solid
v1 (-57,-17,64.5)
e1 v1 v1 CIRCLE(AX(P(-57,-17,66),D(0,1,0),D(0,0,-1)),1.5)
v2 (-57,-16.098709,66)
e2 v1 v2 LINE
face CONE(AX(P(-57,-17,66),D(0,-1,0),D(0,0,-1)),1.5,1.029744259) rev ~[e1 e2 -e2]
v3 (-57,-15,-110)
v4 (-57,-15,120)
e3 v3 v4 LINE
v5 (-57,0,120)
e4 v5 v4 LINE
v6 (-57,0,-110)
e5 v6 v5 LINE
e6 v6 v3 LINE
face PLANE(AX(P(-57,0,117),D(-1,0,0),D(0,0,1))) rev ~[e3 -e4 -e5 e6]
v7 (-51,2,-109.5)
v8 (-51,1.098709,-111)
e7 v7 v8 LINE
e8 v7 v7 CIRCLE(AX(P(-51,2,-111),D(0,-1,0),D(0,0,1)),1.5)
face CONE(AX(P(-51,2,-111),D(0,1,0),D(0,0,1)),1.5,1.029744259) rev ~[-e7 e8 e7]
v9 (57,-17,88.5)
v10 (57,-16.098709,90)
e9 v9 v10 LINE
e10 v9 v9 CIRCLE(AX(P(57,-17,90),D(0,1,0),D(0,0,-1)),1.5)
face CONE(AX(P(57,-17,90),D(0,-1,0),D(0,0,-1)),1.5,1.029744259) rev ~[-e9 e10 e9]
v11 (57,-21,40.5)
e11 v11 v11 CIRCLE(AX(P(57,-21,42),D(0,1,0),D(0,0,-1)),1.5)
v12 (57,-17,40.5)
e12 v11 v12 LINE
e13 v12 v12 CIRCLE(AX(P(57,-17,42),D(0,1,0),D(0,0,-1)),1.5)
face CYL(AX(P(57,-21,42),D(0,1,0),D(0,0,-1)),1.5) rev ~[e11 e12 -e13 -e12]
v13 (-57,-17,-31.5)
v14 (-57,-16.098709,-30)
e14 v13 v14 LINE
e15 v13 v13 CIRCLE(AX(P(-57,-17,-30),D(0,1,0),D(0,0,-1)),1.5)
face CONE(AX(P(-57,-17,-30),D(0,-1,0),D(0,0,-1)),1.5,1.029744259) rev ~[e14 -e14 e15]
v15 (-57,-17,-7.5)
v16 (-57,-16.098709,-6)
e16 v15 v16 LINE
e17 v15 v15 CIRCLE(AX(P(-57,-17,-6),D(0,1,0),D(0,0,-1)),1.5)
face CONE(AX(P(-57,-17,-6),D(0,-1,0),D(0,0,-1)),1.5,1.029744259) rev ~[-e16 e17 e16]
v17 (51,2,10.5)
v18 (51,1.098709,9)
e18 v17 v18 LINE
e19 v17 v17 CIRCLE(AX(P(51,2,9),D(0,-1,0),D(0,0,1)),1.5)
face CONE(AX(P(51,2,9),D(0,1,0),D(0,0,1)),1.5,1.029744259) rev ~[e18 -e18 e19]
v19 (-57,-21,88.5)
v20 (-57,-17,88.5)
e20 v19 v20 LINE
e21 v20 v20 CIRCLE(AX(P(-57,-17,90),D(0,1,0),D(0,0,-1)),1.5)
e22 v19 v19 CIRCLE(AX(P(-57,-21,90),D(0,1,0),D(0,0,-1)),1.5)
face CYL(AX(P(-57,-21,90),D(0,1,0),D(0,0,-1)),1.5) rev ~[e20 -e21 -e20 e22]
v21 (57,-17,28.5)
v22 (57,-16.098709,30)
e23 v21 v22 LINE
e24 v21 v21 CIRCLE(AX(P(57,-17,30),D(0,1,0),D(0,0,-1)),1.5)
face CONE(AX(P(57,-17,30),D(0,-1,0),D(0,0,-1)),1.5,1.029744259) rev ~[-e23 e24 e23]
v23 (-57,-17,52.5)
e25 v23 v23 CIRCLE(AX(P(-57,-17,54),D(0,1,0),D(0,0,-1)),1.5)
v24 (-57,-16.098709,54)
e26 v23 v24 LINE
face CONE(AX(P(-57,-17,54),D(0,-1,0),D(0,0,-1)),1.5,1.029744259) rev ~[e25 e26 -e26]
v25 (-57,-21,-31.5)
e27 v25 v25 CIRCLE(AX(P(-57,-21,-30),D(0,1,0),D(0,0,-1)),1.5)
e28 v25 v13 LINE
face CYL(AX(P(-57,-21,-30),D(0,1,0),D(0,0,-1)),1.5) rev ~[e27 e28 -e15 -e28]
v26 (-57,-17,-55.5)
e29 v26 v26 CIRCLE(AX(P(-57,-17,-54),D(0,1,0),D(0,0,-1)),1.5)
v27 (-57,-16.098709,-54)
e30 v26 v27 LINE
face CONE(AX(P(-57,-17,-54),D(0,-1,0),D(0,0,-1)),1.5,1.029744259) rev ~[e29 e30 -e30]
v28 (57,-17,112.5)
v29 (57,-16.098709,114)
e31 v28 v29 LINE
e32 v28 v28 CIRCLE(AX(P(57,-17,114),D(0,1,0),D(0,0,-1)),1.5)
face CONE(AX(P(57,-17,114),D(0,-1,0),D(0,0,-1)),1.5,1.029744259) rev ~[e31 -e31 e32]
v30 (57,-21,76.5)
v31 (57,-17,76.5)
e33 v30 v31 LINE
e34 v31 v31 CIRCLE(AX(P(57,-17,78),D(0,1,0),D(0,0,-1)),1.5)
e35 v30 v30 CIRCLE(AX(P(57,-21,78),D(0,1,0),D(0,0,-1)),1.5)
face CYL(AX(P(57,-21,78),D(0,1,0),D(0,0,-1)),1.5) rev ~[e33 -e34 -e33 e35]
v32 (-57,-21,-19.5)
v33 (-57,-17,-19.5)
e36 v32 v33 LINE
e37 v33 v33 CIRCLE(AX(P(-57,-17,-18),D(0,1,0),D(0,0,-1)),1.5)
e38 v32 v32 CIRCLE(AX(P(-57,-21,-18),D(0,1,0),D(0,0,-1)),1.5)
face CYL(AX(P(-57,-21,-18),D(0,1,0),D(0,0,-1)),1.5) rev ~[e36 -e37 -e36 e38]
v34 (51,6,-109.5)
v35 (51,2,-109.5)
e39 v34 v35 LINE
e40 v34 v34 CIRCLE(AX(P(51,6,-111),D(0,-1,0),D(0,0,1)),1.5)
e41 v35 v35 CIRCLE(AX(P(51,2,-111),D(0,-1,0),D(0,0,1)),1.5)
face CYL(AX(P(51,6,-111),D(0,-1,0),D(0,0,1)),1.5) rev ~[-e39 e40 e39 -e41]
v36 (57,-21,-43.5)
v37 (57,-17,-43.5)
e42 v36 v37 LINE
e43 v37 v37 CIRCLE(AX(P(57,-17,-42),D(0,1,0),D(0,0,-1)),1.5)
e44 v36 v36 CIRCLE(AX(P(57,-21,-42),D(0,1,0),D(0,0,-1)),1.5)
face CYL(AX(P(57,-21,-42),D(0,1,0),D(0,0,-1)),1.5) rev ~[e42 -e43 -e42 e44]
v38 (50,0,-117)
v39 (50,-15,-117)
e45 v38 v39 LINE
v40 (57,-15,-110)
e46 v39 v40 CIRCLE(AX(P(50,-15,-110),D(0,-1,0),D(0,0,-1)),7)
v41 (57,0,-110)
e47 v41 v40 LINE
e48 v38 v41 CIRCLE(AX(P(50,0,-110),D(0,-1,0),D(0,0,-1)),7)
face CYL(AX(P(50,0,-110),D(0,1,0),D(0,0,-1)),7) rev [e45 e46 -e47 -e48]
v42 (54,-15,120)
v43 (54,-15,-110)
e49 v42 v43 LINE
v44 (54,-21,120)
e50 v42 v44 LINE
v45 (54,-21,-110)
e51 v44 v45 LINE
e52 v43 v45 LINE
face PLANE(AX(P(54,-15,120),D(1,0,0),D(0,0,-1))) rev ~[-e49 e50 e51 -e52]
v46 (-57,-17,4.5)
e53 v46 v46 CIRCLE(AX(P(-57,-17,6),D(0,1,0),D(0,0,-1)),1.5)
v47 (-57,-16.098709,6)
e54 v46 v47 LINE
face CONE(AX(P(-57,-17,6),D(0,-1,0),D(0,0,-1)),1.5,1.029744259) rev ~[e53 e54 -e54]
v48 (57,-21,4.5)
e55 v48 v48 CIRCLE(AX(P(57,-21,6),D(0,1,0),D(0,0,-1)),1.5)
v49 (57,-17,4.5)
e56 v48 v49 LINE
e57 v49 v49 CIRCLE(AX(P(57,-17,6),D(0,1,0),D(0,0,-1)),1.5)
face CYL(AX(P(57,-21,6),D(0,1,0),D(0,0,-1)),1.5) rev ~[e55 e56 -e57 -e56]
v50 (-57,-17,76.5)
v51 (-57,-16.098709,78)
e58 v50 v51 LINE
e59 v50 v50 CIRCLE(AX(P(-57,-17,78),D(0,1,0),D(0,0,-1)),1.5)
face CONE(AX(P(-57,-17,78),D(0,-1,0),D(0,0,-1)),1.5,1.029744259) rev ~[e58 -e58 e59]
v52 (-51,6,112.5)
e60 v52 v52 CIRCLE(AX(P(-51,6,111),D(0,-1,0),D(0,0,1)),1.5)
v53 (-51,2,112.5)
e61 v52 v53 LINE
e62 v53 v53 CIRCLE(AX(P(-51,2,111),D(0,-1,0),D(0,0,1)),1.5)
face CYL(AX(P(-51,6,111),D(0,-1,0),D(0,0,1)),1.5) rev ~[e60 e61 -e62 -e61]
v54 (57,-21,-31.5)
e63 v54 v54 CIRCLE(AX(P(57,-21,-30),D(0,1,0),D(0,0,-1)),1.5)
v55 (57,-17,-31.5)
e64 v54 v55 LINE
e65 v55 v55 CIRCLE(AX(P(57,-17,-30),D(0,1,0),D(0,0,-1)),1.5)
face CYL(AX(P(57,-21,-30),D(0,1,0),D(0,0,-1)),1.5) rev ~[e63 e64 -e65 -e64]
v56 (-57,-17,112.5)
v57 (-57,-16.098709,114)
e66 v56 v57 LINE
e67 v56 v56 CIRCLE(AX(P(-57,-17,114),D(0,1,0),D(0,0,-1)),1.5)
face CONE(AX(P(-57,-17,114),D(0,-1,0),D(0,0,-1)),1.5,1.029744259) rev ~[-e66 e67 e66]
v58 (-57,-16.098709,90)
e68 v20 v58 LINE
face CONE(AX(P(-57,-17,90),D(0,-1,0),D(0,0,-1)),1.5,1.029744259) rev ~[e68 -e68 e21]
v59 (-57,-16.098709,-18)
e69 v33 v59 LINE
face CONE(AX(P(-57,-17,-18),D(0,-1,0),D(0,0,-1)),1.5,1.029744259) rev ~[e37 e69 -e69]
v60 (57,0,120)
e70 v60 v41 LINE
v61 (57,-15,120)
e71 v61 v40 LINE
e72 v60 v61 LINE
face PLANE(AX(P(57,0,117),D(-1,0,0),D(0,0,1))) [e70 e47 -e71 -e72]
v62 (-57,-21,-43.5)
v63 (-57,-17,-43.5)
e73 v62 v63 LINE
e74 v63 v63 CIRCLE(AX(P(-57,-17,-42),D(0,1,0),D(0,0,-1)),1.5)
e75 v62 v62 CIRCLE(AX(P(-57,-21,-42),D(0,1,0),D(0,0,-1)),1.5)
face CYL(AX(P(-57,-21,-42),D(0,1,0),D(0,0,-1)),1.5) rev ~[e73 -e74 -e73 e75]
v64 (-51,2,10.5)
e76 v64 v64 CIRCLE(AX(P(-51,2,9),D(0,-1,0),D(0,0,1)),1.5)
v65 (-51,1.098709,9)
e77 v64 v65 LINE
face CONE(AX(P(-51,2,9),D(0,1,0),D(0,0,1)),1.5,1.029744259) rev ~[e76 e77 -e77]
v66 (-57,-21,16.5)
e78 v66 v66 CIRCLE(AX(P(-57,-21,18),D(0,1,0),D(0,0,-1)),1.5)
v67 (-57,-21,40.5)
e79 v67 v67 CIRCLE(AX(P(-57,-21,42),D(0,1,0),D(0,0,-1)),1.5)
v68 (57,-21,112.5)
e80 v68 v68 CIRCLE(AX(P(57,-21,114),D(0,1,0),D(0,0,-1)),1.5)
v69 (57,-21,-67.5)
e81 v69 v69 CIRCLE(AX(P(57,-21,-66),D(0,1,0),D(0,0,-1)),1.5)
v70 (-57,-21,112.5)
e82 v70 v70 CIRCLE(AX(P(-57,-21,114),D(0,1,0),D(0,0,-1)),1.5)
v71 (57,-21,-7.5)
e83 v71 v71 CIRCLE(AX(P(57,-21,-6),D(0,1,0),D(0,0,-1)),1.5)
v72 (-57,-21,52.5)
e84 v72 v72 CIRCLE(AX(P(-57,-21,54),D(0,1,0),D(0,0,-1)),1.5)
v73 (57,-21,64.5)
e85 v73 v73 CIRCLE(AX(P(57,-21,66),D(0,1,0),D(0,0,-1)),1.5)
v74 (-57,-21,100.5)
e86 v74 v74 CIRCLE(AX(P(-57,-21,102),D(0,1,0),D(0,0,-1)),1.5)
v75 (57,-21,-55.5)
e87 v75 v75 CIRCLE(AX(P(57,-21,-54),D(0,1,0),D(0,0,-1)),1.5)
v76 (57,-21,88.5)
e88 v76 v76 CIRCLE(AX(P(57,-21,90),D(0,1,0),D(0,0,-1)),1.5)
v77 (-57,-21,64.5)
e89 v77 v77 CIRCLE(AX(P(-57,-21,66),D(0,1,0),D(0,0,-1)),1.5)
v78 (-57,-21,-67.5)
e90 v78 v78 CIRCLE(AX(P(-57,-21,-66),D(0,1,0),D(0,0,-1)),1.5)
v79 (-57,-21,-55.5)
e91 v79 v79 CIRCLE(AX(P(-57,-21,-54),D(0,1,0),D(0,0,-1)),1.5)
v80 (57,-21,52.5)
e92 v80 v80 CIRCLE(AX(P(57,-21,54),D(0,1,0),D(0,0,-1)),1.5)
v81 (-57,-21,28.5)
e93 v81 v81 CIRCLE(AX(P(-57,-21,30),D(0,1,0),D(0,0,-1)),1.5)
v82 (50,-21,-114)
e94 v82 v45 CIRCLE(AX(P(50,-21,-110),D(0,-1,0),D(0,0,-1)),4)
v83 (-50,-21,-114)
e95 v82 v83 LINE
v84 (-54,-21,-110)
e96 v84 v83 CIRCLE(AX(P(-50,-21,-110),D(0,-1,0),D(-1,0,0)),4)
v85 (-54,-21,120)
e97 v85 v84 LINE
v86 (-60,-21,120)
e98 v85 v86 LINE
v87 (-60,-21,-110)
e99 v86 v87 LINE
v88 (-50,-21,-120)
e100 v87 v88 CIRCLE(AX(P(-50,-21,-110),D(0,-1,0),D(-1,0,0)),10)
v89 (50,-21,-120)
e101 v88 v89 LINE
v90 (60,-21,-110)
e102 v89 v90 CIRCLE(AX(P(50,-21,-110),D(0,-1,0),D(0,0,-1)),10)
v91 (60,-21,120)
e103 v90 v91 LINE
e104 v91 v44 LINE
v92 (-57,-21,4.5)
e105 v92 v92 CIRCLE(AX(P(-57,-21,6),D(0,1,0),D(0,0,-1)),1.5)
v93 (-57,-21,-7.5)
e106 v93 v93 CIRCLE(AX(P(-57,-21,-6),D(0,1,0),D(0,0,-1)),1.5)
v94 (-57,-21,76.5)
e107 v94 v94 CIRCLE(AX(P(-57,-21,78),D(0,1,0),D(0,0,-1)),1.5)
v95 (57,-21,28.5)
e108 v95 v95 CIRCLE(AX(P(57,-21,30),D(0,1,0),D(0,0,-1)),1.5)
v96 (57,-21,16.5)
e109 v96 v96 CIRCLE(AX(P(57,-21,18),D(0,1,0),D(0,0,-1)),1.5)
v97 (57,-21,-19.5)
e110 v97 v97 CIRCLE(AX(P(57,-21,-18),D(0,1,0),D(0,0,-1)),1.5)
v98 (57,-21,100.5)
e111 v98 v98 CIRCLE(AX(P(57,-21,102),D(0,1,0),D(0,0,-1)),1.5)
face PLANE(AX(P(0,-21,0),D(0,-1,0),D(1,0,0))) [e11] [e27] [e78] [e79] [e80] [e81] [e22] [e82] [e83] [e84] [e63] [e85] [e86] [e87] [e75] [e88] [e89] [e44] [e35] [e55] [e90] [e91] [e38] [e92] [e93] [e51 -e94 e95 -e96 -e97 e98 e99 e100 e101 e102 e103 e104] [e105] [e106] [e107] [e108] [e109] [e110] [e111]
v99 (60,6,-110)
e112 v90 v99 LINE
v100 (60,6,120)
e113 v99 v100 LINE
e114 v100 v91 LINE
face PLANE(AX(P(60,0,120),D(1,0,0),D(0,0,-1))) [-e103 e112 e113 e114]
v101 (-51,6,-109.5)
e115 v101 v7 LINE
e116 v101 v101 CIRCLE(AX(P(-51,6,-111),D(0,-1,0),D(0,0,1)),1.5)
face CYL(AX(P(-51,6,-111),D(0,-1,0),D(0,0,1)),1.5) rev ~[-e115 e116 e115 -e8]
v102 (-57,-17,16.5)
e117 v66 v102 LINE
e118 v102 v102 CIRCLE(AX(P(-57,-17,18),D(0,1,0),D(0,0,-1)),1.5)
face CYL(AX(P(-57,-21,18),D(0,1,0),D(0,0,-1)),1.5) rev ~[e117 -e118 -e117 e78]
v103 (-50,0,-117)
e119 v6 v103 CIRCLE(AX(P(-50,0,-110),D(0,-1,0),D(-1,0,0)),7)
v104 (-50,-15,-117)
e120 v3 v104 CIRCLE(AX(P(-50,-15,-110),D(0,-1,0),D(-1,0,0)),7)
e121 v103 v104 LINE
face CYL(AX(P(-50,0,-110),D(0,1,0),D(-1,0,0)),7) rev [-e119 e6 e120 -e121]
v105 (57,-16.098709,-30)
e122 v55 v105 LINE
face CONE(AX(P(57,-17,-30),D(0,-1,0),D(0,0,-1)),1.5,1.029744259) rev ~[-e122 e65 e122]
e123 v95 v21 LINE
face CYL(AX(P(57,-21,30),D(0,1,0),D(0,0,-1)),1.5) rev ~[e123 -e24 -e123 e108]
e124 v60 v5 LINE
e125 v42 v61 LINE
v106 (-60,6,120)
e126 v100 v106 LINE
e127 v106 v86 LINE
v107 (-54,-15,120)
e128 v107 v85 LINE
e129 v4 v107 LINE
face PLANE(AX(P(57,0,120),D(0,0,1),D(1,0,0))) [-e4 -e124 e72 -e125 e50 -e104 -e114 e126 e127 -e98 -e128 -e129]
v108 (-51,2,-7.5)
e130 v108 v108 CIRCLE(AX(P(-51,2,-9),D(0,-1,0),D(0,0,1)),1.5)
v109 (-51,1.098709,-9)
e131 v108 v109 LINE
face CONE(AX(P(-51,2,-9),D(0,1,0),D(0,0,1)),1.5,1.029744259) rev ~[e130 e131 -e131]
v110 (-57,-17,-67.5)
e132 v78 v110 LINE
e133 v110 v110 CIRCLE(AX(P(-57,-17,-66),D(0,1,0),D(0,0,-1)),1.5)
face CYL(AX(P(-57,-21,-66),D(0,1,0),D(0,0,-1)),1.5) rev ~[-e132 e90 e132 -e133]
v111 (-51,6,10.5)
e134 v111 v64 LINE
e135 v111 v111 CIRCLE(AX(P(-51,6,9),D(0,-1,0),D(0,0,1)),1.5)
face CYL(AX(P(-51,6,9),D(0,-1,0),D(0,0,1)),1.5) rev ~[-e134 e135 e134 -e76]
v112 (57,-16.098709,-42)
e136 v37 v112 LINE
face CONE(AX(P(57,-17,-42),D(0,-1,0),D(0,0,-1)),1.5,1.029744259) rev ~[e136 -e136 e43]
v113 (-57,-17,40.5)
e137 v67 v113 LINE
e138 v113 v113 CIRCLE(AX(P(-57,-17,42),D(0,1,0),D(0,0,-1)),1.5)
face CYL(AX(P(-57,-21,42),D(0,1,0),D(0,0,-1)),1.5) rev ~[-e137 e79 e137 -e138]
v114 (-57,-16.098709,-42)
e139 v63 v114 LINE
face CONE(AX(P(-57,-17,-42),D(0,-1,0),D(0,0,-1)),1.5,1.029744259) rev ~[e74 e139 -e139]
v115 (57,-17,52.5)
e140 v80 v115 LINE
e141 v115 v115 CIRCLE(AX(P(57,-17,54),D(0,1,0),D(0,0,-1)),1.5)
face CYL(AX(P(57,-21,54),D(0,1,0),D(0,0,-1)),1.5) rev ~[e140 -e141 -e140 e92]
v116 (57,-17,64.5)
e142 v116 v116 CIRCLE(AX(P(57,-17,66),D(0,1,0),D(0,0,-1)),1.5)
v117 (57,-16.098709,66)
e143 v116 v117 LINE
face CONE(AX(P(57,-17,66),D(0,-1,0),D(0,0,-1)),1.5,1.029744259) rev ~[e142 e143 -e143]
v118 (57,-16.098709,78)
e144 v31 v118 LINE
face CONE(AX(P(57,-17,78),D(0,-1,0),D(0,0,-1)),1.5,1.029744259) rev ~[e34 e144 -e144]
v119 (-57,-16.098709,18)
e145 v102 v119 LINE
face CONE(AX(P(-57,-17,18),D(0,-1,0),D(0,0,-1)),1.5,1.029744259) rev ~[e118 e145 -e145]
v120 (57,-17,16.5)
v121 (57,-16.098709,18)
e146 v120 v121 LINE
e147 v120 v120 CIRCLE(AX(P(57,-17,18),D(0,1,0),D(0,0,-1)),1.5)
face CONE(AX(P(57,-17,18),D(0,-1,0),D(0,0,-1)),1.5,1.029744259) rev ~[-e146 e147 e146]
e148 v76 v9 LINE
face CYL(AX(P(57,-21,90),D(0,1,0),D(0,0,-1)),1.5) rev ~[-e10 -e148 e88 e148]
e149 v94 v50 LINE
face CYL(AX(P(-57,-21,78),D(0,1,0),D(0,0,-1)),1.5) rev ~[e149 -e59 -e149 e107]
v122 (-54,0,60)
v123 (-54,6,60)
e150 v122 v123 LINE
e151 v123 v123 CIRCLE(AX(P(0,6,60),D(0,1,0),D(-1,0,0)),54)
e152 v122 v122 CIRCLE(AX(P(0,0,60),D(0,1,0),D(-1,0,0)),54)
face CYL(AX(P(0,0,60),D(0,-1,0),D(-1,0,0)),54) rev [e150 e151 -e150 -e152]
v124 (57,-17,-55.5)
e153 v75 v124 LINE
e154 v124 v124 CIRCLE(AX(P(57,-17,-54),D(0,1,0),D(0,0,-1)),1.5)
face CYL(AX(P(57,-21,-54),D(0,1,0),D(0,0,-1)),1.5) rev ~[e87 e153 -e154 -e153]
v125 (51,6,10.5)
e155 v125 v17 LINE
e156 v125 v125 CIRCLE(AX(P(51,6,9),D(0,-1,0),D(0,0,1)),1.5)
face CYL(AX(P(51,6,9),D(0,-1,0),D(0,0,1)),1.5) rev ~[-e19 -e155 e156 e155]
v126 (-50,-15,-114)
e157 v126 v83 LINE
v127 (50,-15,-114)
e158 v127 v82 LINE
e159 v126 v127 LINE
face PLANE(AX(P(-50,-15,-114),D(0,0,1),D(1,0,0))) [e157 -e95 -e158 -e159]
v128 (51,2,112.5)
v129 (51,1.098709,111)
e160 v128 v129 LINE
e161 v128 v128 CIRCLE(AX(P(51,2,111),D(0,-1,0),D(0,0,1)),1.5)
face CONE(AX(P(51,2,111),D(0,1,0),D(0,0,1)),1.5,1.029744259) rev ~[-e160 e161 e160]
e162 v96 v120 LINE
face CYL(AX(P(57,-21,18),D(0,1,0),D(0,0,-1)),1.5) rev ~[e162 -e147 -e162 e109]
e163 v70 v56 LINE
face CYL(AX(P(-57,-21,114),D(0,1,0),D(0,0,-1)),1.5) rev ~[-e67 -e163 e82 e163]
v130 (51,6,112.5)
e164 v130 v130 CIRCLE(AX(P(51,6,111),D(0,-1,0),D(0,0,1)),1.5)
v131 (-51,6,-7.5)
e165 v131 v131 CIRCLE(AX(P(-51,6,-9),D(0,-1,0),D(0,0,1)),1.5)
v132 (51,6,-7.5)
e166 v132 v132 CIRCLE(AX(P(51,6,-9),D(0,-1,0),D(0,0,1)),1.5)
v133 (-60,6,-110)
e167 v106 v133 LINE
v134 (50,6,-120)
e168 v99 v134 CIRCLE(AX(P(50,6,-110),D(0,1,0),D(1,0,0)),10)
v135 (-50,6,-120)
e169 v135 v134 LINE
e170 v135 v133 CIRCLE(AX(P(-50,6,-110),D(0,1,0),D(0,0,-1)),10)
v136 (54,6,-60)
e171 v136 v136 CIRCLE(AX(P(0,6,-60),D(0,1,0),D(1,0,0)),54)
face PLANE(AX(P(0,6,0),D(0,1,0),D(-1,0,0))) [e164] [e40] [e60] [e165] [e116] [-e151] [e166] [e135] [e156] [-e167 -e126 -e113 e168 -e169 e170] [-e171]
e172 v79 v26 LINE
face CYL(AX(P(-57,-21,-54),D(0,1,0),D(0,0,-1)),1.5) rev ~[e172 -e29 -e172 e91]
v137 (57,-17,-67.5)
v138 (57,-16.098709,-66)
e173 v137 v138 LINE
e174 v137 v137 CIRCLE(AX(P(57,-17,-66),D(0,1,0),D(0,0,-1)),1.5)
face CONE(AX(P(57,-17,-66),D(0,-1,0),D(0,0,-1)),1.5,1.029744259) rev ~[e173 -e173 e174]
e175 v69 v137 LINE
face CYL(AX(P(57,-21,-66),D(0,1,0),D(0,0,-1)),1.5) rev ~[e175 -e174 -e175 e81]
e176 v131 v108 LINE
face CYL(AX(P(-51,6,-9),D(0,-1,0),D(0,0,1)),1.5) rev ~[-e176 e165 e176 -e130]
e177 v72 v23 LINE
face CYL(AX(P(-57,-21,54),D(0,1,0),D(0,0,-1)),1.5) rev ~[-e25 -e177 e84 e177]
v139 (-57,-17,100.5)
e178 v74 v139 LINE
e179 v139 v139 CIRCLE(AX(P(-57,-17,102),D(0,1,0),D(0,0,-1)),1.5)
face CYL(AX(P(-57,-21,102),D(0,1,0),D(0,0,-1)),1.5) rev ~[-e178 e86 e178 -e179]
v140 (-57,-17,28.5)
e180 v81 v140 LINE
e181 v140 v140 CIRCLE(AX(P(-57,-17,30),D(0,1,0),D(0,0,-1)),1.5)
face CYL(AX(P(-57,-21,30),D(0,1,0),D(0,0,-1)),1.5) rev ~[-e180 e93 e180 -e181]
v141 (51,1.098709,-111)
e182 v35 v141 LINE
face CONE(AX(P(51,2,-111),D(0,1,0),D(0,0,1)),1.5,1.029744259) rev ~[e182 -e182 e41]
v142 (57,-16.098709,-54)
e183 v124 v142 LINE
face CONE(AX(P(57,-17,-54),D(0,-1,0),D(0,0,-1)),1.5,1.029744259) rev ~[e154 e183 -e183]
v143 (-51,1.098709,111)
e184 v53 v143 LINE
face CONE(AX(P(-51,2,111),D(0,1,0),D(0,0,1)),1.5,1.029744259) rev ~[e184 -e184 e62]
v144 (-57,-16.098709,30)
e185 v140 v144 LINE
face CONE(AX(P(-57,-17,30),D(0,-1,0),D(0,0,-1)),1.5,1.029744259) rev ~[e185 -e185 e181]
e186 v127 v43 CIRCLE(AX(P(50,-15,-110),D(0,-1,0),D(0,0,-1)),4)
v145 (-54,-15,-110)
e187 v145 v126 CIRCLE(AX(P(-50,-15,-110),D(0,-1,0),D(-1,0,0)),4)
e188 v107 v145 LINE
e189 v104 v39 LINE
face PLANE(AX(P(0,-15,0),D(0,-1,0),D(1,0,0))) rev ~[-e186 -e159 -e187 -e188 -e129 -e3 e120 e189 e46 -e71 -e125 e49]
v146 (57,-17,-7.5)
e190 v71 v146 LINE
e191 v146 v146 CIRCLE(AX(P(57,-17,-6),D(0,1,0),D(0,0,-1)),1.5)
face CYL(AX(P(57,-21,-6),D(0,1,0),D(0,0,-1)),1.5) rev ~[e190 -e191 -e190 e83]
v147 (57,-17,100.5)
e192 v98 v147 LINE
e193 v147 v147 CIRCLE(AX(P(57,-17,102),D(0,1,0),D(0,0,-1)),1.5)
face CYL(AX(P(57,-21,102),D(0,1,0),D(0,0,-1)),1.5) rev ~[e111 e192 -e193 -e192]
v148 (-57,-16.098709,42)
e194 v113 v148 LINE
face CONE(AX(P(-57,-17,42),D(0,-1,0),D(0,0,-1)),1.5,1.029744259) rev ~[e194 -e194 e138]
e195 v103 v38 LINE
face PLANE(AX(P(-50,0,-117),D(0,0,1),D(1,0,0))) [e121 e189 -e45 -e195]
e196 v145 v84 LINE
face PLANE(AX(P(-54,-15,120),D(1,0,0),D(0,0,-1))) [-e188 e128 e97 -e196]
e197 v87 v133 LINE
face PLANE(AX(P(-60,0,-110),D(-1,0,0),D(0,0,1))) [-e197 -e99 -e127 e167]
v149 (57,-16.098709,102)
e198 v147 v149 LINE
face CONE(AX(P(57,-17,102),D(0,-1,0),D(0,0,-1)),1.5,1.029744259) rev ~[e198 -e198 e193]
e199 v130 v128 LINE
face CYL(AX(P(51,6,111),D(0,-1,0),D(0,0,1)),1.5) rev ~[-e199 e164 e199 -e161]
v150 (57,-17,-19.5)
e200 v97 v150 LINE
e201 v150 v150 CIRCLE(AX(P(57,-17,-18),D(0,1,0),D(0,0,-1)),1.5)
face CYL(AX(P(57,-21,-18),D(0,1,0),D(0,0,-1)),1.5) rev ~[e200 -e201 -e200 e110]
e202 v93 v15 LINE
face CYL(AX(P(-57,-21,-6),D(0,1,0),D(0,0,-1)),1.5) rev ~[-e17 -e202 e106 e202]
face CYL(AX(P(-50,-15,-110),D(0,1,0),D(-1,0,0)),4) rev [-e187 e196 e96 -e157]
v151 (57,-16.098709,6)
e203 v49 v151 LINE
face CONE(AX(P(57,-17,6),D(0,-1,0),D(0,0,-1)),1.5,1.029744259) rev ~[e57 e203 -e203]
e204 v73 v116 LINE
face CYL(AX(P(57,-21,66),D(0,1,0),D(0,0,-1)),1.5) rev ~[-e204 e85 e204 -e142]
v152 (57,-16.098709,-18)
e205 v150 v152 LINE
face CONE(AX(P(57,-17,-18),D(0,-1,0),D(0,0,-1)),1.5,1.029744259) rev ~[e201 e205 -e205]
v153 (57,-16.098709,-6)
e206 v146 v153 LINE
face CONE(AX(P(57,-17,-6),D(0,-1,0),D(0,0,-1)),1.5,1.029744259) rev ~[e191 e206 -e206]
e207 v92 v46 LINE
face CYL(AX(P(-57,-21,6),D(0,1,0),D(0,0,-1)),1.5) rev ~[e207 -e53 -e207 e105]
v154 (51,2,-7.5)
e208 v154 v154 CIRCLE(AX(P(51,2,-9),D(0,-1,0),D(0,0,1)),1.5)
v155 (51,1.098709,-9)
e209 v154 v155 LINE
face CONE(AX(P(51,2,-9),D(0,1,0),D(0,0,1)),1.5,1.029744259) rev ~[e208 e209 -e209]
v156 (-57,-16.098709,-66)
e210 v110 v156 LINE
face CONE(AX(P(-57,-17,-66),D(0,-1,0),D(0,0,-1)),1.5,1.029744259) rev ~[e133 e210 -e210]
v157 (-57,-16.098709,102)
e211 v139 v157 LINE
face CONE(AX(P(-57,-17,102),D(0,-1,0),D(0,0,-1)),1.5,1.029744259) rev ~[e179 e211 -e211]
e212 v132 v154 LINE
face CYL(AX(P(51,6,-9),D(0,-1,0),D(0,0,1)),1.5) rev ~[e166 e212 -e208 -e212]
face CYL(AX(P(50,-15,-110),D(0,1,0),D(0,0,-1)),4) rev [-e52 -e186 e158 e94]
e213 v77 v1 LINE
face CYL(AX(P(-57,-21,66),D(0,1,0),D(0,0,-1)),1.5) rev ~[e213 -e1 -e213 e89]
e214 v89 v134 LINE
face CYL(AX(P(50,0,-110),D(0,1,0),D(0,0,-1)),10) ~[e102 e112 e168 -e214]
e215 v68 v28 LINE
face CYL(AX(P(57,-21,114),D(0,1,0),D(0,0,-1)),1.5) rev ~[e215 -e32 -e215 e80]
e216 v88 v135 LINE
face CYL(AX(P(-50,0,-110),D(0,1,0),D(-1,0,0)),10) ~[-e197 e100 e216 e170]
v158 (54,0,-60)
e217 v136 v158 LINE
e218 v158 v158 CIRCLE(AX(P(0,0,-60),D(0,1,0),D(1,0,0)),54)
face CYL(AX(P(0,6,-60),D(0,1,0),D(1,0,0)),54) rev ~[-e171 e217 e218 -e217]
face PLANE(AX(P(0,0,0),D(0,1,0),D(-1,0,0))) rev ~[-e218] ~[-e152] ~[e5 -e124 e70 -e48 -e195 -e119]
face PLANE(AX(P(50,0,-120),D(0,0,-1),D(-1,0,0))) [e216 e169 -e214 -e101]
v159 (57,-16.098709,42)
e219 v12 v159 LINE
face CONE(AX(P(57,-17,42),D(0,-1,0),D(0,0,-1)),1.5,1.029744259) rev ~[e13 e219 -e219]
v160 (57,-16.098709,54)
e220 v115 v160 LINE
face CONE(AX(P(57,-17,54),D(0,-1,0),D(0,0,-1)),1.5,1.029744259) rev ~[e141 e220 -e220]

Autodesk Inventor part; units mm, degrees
ref_plane "YZ Plane" through (0, 0, 0) normal (1, 0, 0) x (0, 1, 0)
ref_plane "XZ Plane" through (0, 0, 0) normal (0, 1, 0) x (-1, 0, 0)
ref_plane "XY Plane" through (0, 0, 0) normal (0, 0, 1) x (1, 0, 0)
sketch "Sketch1" plane through (0, 0, 0) normal (0, 1, 0) x (-1, 0, 0)
  line L0 (-60, 120) -> (60, 120)
  line L1 (60, 120) -> (60, -110)
  line L2 (50, -120) -> (-50, -120)
  line L3 (-60, -110) -> (-60, 120)
  line L4 (-60, 120) -> (60, -120) construction
  line L5 (60, 120) -> (-60, -120) construction
  line L6 (-60, 120) -> (60, 120)
  line L7 (60, 120) -> (60, 0)
  line L8 (60, 0) -> (-60, 0)
  line L9 (-60, 0) -> (-60, 120)
  line L10 (60, 0) -> (-60, 120) construction
  line L11 (-60, 0) -> (60, 120) construction
  circle A0 centre (0, 60) radius 54
  line L12 (54, 60) -> (60, 60) construction
  arc A1 (50, -120) -> (60, -110) centre (50, -110) ccw
  arc A2 (-60, -110) -> (-50, -120) centre (-50, -110) ccw
  point P0 (0, 0)
  dimension "d0" = 120
  dimension "d1" = 240
  dimension "d2" = 120
  dimension "d3" = 6
  dimension "d4" = 10
extrude "Extrusion1" add sketch "Sketch1" along normal blind 6
sketch "Sketch2" plane through (0, 0, 0) normal (0, -1, 0) x (1, 0, 0)
  circle A0 centre (0, 60) radius 54 construction
  line L0 (60, 120) -> (60, -110) projected
  line L1 (-60, 120) -> (60, 120) projected
  line L2 (-60, -110) -> (-60, 120) projected
  arc A1 (-60, -110) -> (-50, -120) centre (-50, -110) ccw projected
  line L3 (50, -120) -> (-50, -120) projected
  arc A2 (50, -120) -> (60, -110) centre (50, -110) ccw projected
  line L4 (57, -110) -> (57, 117)
  line L5 (57, 117) -> (-57, 117)
  line L6 (-57, 117) -> (-57, -110)
  arc A3 (-57, -110) -> (-50, -117) centre (-50, -110) ccw
  line L7 (-50, -117) -> (50, -117)
  arc A4 (50, -117) -> (57, -110) centre (50, -110) ccw
  line L8 (57, 117) -> (57, 120)
  line L9 (-57, 117) -> (-57, 120)
  point P0 (0, 0)
  dimension "d7" = 3
extrude "Extrusion2" add sketch "Sketch2" along normal blind 15 contours L0 A2 L3 A1 L2 L1 L9 L6 A3 L7 A4 L4 L8
sketch "Sketch3" plane through (0, -15, 0) normal (0, -1, 0) x (1, 0, 0)
  line L0 (60, -110) -> (60, 120) projected
  line L1 (60, 120) -> (57, 120) projected
  line L2 (57, 120) -> (57, -110) projected
  arc A0 (50, -117) -> (57, -110) centre (50, -110) ccw projected
  line L3 (50, -117) -> (-50, -117) projected
  arc A1 (-57, -110) -> (-50, -117) centre (-50, -110) ccw projected
  line L4 (-57, -110) -> (-57, 120) projected
  line L5 (-57, 120) -> (-60, 120) projected
  line L6 (-60, 120) -> (-60, -110) projected
  arc A2 (-60, -110) -> (-50, -120) centre (-50, -110) ccw projected
  line L7 (-50, -120) -> (50, -120) projected
  arc A3 (50, -120) -> (60, -110) centre (50, -110) ccw projected
  line L8 (57, 120) -> (54, 120)
  line L9 (-60, 120) -> (60, 120) construction
  line L10 (54, 120) -> (54, -110)
  line L11 (50, -114) -> (25, -114)
  arc A4 (50, -114) -> (54, -110) centre (50, -110) ccw
  line L12 (0, 0) -> (0, -136) construction
  line L13 (-57, 120) -> (-54, 120)
  line L14 (-54, 120) -> (-54, -110)
  line L15 (-50, -114) -> (25, -114)
  arc A5 (-54, -110) -> (-50, -114) centre (-50, -110) ccw
  dimension "d10" = 3
extrude "Extrusion3" add sketch "Sketch3" along normal blind 6
sketch "Sketch5" plane through (0, 6, 0) normal (0, 1, 0) x (1, 0, 0)
  circle A0 centre (0, -60) radius 54 projected
  line L0 (60, -120) -> (60, 110) projected
  arc A1 (60, 110) -> (50, 120) centre (50, 110) ccw projected
  line L1 (50, 120) -> (-50, 120) projected
  arc A2 (-50, 120) -> (-60, 110) centre (-50, 110) ccw projected
  line L2 (-60, 110) -> (-60, -120) projected
  line L3 (-60, -120) -> (60, -120) projected
  line L4 (-67.6504, 0) -> (67.3496, 0) construction
  circle A3 centre (0, 60) radius 54
  point P0 (0, 0)
extrude "Extrusion4" cut sketch "Sketch5" against normal up to next contours A3
sketch "Sketch6" plane through (0, 6, 0) normal (0, 1, 0) x (1, 0, 0)
  circle A0 centre (0, -60) radius 54 projected
  circle A1 centre (0, 60) radius 54 projected
  circle A2 centre (0, 60) radius 54 projected
  circle A3 centre (0, -60) radius 54 projected
  line L0 (60, -120) -> (60, 110) projected
  arc A4 (60, 110) -> (50, 120) centre (50, 110) ccw projected
  line L1 (50, 120) -> (-50, 120) projected
  arc A5 (-50, 120) -> (-60, 110) centre (-50, 110) ccw projected
  line L2 (-60, 110) -> (-60, -120) projected
  line L3 (-60, -120) -> (60, -120) projected
  line L4 (-50.0326, 0) -> (43.9674, 0) construction
  line L5 (0, -60) -> (-70, -60) construction
  line L6 (0, -60) -> (0, -118) construction
  point P0 (0, 0)
  point P1 (-51, -9)
  point P2 (-51, -111)
  point P3 (51, -9)
  point P4 (51, -111)
  point P5 (-51, 9)
  point P6 (-51, 111)
  point P7 (51, 111)
  point P8 (51, 9)
  dimension "d15" = 18
  dimension "d16" = 9
hole "Hole1" at (-51, 6, 9) at (-51, 6, 111) at (51, 6, 111) at (51, 6, 9) at (-51, 6, -111) at (-51, 6, -9) at (51, 6, -111) at (51, 6, -9) direction (0, -1, 0) diameter 3 depth 4 tip angle 118
sketch "Sketch7" plane through (0, -21, 0) normal (0, -1, 0) x (1, 0, 0)
  line L0 (57, 120) -> (57, -110) construction
  line L1 (57, -110) -> (57, 120) projected
  line L2 (-57, -110) -> (-57, 120) construction
  line L3 (-57, 120) -> (-57, -110) projected
  line L4 (57, 120) -> (57, -110) projected
  line L5 (0, 119) -> (0, 0) construction
  point P0 (57, 60)
  point P1 (57, -60)
  point P2 (57, 114)
  point P3 (-57, 114)
  point P4 (-57, 102)
  point P5 (57, 102)
  point P6 (-57, 90)
  point P7 (57, 90)
  point P8 (-57, 78)
  point P9 (57, 78)
  point P10 (-57, 66)
  point P11 (57, 66)
  point P12 (-57, 54)
  point P13 (57, 54)
  point P14 (-57, 42)
  point P15 (57, 42)
  point P16 (-57, 30)
  point P17 (57, 30)
  point P18 (-57, 18)
  point P19 (57, 18)
  point P20 (-57, 6)
  point P21 (57, 6)
  point P22 (-57, -6)
  point P23 (57, -6)
  point P24 (-57, -18)
  point P25 (57, -18)
  point P26 (-57, -30)
  point P27 (57, -30)
  point P28 (-57, -42)
  point P29 (57, -42)
  point P30 (-57, -54)
  point P31 (57, -54)
  point P32 (-57, -66)
  point P33 (57, -66)
  dimension "d24" = 6
  dimension "d27" = 12
hole "Hole2" at (57, -21, 114) at (-57, -21, 114) at (-57, -21, 102) at (57, -21, 102) at (-57, -21, 90) at (57, -21, 90) at (-57, -21, 78) at (57, -21, 78) at (-57, -21, 66) at (57, -21, 66) at (-57, -21, 54) at (57, -21, 54) at (-57, -21, 42) at (57, -21, 42) at (-57, -21, 30) at (57, -21, 30) at (-57, -21, 18) at (57, -21, 18) at (-57, -21, 6) at (57, -21, 6) at (-57, -21, -6) at (57, -21, -6) at (-57, -21, -18) at (57, -21, -18) at (-57, -21, -30) at (57, -21, -30) at (-57, -21, -42) at (57, -21, -42) at (-57, -21, -54) at (57, -21, -54) at (-57, -21, -66) at (57, -21, -66) direction (0, 1, 0) diameter 3 depth 4 tip angle 118
equation "\"d0\" = hull_width"
equation "\"d1\" = hull_length"
equation "\"d2\" = hull_width"
equation "\"d3\" = 2 * thickness"
equation "\"d4\" = roundness"
equation "\"d5\" = 2 * thickness"
equation "\"d7\" = thickness"
equation "\"d8\" = 5 * thickness"
equation "\"d10\" = thickness"
equation "\"d11\" = 2 * thickness"
equation "\"d13\" = 2 * thickness"
equation "\"d15\" = 6 * thickness"
equation "\"d16\" = 3 * thickness"
equation "\"d22\" = 1.33333 * thickness"
equation "\"d24\" = 2 * thickness"
equation "\"d27\" = 4 * thickness"
equation "\"d37\" = 1.33333 * thickness"
equation "\"thickness\" = 3"
equation "\"roundness\" = 10"
equation "\"hull_width\" = 120"
equation "\"hull_length\" = 2 * hull_width"
properties part number "Cup_Dispenser_Hull"
